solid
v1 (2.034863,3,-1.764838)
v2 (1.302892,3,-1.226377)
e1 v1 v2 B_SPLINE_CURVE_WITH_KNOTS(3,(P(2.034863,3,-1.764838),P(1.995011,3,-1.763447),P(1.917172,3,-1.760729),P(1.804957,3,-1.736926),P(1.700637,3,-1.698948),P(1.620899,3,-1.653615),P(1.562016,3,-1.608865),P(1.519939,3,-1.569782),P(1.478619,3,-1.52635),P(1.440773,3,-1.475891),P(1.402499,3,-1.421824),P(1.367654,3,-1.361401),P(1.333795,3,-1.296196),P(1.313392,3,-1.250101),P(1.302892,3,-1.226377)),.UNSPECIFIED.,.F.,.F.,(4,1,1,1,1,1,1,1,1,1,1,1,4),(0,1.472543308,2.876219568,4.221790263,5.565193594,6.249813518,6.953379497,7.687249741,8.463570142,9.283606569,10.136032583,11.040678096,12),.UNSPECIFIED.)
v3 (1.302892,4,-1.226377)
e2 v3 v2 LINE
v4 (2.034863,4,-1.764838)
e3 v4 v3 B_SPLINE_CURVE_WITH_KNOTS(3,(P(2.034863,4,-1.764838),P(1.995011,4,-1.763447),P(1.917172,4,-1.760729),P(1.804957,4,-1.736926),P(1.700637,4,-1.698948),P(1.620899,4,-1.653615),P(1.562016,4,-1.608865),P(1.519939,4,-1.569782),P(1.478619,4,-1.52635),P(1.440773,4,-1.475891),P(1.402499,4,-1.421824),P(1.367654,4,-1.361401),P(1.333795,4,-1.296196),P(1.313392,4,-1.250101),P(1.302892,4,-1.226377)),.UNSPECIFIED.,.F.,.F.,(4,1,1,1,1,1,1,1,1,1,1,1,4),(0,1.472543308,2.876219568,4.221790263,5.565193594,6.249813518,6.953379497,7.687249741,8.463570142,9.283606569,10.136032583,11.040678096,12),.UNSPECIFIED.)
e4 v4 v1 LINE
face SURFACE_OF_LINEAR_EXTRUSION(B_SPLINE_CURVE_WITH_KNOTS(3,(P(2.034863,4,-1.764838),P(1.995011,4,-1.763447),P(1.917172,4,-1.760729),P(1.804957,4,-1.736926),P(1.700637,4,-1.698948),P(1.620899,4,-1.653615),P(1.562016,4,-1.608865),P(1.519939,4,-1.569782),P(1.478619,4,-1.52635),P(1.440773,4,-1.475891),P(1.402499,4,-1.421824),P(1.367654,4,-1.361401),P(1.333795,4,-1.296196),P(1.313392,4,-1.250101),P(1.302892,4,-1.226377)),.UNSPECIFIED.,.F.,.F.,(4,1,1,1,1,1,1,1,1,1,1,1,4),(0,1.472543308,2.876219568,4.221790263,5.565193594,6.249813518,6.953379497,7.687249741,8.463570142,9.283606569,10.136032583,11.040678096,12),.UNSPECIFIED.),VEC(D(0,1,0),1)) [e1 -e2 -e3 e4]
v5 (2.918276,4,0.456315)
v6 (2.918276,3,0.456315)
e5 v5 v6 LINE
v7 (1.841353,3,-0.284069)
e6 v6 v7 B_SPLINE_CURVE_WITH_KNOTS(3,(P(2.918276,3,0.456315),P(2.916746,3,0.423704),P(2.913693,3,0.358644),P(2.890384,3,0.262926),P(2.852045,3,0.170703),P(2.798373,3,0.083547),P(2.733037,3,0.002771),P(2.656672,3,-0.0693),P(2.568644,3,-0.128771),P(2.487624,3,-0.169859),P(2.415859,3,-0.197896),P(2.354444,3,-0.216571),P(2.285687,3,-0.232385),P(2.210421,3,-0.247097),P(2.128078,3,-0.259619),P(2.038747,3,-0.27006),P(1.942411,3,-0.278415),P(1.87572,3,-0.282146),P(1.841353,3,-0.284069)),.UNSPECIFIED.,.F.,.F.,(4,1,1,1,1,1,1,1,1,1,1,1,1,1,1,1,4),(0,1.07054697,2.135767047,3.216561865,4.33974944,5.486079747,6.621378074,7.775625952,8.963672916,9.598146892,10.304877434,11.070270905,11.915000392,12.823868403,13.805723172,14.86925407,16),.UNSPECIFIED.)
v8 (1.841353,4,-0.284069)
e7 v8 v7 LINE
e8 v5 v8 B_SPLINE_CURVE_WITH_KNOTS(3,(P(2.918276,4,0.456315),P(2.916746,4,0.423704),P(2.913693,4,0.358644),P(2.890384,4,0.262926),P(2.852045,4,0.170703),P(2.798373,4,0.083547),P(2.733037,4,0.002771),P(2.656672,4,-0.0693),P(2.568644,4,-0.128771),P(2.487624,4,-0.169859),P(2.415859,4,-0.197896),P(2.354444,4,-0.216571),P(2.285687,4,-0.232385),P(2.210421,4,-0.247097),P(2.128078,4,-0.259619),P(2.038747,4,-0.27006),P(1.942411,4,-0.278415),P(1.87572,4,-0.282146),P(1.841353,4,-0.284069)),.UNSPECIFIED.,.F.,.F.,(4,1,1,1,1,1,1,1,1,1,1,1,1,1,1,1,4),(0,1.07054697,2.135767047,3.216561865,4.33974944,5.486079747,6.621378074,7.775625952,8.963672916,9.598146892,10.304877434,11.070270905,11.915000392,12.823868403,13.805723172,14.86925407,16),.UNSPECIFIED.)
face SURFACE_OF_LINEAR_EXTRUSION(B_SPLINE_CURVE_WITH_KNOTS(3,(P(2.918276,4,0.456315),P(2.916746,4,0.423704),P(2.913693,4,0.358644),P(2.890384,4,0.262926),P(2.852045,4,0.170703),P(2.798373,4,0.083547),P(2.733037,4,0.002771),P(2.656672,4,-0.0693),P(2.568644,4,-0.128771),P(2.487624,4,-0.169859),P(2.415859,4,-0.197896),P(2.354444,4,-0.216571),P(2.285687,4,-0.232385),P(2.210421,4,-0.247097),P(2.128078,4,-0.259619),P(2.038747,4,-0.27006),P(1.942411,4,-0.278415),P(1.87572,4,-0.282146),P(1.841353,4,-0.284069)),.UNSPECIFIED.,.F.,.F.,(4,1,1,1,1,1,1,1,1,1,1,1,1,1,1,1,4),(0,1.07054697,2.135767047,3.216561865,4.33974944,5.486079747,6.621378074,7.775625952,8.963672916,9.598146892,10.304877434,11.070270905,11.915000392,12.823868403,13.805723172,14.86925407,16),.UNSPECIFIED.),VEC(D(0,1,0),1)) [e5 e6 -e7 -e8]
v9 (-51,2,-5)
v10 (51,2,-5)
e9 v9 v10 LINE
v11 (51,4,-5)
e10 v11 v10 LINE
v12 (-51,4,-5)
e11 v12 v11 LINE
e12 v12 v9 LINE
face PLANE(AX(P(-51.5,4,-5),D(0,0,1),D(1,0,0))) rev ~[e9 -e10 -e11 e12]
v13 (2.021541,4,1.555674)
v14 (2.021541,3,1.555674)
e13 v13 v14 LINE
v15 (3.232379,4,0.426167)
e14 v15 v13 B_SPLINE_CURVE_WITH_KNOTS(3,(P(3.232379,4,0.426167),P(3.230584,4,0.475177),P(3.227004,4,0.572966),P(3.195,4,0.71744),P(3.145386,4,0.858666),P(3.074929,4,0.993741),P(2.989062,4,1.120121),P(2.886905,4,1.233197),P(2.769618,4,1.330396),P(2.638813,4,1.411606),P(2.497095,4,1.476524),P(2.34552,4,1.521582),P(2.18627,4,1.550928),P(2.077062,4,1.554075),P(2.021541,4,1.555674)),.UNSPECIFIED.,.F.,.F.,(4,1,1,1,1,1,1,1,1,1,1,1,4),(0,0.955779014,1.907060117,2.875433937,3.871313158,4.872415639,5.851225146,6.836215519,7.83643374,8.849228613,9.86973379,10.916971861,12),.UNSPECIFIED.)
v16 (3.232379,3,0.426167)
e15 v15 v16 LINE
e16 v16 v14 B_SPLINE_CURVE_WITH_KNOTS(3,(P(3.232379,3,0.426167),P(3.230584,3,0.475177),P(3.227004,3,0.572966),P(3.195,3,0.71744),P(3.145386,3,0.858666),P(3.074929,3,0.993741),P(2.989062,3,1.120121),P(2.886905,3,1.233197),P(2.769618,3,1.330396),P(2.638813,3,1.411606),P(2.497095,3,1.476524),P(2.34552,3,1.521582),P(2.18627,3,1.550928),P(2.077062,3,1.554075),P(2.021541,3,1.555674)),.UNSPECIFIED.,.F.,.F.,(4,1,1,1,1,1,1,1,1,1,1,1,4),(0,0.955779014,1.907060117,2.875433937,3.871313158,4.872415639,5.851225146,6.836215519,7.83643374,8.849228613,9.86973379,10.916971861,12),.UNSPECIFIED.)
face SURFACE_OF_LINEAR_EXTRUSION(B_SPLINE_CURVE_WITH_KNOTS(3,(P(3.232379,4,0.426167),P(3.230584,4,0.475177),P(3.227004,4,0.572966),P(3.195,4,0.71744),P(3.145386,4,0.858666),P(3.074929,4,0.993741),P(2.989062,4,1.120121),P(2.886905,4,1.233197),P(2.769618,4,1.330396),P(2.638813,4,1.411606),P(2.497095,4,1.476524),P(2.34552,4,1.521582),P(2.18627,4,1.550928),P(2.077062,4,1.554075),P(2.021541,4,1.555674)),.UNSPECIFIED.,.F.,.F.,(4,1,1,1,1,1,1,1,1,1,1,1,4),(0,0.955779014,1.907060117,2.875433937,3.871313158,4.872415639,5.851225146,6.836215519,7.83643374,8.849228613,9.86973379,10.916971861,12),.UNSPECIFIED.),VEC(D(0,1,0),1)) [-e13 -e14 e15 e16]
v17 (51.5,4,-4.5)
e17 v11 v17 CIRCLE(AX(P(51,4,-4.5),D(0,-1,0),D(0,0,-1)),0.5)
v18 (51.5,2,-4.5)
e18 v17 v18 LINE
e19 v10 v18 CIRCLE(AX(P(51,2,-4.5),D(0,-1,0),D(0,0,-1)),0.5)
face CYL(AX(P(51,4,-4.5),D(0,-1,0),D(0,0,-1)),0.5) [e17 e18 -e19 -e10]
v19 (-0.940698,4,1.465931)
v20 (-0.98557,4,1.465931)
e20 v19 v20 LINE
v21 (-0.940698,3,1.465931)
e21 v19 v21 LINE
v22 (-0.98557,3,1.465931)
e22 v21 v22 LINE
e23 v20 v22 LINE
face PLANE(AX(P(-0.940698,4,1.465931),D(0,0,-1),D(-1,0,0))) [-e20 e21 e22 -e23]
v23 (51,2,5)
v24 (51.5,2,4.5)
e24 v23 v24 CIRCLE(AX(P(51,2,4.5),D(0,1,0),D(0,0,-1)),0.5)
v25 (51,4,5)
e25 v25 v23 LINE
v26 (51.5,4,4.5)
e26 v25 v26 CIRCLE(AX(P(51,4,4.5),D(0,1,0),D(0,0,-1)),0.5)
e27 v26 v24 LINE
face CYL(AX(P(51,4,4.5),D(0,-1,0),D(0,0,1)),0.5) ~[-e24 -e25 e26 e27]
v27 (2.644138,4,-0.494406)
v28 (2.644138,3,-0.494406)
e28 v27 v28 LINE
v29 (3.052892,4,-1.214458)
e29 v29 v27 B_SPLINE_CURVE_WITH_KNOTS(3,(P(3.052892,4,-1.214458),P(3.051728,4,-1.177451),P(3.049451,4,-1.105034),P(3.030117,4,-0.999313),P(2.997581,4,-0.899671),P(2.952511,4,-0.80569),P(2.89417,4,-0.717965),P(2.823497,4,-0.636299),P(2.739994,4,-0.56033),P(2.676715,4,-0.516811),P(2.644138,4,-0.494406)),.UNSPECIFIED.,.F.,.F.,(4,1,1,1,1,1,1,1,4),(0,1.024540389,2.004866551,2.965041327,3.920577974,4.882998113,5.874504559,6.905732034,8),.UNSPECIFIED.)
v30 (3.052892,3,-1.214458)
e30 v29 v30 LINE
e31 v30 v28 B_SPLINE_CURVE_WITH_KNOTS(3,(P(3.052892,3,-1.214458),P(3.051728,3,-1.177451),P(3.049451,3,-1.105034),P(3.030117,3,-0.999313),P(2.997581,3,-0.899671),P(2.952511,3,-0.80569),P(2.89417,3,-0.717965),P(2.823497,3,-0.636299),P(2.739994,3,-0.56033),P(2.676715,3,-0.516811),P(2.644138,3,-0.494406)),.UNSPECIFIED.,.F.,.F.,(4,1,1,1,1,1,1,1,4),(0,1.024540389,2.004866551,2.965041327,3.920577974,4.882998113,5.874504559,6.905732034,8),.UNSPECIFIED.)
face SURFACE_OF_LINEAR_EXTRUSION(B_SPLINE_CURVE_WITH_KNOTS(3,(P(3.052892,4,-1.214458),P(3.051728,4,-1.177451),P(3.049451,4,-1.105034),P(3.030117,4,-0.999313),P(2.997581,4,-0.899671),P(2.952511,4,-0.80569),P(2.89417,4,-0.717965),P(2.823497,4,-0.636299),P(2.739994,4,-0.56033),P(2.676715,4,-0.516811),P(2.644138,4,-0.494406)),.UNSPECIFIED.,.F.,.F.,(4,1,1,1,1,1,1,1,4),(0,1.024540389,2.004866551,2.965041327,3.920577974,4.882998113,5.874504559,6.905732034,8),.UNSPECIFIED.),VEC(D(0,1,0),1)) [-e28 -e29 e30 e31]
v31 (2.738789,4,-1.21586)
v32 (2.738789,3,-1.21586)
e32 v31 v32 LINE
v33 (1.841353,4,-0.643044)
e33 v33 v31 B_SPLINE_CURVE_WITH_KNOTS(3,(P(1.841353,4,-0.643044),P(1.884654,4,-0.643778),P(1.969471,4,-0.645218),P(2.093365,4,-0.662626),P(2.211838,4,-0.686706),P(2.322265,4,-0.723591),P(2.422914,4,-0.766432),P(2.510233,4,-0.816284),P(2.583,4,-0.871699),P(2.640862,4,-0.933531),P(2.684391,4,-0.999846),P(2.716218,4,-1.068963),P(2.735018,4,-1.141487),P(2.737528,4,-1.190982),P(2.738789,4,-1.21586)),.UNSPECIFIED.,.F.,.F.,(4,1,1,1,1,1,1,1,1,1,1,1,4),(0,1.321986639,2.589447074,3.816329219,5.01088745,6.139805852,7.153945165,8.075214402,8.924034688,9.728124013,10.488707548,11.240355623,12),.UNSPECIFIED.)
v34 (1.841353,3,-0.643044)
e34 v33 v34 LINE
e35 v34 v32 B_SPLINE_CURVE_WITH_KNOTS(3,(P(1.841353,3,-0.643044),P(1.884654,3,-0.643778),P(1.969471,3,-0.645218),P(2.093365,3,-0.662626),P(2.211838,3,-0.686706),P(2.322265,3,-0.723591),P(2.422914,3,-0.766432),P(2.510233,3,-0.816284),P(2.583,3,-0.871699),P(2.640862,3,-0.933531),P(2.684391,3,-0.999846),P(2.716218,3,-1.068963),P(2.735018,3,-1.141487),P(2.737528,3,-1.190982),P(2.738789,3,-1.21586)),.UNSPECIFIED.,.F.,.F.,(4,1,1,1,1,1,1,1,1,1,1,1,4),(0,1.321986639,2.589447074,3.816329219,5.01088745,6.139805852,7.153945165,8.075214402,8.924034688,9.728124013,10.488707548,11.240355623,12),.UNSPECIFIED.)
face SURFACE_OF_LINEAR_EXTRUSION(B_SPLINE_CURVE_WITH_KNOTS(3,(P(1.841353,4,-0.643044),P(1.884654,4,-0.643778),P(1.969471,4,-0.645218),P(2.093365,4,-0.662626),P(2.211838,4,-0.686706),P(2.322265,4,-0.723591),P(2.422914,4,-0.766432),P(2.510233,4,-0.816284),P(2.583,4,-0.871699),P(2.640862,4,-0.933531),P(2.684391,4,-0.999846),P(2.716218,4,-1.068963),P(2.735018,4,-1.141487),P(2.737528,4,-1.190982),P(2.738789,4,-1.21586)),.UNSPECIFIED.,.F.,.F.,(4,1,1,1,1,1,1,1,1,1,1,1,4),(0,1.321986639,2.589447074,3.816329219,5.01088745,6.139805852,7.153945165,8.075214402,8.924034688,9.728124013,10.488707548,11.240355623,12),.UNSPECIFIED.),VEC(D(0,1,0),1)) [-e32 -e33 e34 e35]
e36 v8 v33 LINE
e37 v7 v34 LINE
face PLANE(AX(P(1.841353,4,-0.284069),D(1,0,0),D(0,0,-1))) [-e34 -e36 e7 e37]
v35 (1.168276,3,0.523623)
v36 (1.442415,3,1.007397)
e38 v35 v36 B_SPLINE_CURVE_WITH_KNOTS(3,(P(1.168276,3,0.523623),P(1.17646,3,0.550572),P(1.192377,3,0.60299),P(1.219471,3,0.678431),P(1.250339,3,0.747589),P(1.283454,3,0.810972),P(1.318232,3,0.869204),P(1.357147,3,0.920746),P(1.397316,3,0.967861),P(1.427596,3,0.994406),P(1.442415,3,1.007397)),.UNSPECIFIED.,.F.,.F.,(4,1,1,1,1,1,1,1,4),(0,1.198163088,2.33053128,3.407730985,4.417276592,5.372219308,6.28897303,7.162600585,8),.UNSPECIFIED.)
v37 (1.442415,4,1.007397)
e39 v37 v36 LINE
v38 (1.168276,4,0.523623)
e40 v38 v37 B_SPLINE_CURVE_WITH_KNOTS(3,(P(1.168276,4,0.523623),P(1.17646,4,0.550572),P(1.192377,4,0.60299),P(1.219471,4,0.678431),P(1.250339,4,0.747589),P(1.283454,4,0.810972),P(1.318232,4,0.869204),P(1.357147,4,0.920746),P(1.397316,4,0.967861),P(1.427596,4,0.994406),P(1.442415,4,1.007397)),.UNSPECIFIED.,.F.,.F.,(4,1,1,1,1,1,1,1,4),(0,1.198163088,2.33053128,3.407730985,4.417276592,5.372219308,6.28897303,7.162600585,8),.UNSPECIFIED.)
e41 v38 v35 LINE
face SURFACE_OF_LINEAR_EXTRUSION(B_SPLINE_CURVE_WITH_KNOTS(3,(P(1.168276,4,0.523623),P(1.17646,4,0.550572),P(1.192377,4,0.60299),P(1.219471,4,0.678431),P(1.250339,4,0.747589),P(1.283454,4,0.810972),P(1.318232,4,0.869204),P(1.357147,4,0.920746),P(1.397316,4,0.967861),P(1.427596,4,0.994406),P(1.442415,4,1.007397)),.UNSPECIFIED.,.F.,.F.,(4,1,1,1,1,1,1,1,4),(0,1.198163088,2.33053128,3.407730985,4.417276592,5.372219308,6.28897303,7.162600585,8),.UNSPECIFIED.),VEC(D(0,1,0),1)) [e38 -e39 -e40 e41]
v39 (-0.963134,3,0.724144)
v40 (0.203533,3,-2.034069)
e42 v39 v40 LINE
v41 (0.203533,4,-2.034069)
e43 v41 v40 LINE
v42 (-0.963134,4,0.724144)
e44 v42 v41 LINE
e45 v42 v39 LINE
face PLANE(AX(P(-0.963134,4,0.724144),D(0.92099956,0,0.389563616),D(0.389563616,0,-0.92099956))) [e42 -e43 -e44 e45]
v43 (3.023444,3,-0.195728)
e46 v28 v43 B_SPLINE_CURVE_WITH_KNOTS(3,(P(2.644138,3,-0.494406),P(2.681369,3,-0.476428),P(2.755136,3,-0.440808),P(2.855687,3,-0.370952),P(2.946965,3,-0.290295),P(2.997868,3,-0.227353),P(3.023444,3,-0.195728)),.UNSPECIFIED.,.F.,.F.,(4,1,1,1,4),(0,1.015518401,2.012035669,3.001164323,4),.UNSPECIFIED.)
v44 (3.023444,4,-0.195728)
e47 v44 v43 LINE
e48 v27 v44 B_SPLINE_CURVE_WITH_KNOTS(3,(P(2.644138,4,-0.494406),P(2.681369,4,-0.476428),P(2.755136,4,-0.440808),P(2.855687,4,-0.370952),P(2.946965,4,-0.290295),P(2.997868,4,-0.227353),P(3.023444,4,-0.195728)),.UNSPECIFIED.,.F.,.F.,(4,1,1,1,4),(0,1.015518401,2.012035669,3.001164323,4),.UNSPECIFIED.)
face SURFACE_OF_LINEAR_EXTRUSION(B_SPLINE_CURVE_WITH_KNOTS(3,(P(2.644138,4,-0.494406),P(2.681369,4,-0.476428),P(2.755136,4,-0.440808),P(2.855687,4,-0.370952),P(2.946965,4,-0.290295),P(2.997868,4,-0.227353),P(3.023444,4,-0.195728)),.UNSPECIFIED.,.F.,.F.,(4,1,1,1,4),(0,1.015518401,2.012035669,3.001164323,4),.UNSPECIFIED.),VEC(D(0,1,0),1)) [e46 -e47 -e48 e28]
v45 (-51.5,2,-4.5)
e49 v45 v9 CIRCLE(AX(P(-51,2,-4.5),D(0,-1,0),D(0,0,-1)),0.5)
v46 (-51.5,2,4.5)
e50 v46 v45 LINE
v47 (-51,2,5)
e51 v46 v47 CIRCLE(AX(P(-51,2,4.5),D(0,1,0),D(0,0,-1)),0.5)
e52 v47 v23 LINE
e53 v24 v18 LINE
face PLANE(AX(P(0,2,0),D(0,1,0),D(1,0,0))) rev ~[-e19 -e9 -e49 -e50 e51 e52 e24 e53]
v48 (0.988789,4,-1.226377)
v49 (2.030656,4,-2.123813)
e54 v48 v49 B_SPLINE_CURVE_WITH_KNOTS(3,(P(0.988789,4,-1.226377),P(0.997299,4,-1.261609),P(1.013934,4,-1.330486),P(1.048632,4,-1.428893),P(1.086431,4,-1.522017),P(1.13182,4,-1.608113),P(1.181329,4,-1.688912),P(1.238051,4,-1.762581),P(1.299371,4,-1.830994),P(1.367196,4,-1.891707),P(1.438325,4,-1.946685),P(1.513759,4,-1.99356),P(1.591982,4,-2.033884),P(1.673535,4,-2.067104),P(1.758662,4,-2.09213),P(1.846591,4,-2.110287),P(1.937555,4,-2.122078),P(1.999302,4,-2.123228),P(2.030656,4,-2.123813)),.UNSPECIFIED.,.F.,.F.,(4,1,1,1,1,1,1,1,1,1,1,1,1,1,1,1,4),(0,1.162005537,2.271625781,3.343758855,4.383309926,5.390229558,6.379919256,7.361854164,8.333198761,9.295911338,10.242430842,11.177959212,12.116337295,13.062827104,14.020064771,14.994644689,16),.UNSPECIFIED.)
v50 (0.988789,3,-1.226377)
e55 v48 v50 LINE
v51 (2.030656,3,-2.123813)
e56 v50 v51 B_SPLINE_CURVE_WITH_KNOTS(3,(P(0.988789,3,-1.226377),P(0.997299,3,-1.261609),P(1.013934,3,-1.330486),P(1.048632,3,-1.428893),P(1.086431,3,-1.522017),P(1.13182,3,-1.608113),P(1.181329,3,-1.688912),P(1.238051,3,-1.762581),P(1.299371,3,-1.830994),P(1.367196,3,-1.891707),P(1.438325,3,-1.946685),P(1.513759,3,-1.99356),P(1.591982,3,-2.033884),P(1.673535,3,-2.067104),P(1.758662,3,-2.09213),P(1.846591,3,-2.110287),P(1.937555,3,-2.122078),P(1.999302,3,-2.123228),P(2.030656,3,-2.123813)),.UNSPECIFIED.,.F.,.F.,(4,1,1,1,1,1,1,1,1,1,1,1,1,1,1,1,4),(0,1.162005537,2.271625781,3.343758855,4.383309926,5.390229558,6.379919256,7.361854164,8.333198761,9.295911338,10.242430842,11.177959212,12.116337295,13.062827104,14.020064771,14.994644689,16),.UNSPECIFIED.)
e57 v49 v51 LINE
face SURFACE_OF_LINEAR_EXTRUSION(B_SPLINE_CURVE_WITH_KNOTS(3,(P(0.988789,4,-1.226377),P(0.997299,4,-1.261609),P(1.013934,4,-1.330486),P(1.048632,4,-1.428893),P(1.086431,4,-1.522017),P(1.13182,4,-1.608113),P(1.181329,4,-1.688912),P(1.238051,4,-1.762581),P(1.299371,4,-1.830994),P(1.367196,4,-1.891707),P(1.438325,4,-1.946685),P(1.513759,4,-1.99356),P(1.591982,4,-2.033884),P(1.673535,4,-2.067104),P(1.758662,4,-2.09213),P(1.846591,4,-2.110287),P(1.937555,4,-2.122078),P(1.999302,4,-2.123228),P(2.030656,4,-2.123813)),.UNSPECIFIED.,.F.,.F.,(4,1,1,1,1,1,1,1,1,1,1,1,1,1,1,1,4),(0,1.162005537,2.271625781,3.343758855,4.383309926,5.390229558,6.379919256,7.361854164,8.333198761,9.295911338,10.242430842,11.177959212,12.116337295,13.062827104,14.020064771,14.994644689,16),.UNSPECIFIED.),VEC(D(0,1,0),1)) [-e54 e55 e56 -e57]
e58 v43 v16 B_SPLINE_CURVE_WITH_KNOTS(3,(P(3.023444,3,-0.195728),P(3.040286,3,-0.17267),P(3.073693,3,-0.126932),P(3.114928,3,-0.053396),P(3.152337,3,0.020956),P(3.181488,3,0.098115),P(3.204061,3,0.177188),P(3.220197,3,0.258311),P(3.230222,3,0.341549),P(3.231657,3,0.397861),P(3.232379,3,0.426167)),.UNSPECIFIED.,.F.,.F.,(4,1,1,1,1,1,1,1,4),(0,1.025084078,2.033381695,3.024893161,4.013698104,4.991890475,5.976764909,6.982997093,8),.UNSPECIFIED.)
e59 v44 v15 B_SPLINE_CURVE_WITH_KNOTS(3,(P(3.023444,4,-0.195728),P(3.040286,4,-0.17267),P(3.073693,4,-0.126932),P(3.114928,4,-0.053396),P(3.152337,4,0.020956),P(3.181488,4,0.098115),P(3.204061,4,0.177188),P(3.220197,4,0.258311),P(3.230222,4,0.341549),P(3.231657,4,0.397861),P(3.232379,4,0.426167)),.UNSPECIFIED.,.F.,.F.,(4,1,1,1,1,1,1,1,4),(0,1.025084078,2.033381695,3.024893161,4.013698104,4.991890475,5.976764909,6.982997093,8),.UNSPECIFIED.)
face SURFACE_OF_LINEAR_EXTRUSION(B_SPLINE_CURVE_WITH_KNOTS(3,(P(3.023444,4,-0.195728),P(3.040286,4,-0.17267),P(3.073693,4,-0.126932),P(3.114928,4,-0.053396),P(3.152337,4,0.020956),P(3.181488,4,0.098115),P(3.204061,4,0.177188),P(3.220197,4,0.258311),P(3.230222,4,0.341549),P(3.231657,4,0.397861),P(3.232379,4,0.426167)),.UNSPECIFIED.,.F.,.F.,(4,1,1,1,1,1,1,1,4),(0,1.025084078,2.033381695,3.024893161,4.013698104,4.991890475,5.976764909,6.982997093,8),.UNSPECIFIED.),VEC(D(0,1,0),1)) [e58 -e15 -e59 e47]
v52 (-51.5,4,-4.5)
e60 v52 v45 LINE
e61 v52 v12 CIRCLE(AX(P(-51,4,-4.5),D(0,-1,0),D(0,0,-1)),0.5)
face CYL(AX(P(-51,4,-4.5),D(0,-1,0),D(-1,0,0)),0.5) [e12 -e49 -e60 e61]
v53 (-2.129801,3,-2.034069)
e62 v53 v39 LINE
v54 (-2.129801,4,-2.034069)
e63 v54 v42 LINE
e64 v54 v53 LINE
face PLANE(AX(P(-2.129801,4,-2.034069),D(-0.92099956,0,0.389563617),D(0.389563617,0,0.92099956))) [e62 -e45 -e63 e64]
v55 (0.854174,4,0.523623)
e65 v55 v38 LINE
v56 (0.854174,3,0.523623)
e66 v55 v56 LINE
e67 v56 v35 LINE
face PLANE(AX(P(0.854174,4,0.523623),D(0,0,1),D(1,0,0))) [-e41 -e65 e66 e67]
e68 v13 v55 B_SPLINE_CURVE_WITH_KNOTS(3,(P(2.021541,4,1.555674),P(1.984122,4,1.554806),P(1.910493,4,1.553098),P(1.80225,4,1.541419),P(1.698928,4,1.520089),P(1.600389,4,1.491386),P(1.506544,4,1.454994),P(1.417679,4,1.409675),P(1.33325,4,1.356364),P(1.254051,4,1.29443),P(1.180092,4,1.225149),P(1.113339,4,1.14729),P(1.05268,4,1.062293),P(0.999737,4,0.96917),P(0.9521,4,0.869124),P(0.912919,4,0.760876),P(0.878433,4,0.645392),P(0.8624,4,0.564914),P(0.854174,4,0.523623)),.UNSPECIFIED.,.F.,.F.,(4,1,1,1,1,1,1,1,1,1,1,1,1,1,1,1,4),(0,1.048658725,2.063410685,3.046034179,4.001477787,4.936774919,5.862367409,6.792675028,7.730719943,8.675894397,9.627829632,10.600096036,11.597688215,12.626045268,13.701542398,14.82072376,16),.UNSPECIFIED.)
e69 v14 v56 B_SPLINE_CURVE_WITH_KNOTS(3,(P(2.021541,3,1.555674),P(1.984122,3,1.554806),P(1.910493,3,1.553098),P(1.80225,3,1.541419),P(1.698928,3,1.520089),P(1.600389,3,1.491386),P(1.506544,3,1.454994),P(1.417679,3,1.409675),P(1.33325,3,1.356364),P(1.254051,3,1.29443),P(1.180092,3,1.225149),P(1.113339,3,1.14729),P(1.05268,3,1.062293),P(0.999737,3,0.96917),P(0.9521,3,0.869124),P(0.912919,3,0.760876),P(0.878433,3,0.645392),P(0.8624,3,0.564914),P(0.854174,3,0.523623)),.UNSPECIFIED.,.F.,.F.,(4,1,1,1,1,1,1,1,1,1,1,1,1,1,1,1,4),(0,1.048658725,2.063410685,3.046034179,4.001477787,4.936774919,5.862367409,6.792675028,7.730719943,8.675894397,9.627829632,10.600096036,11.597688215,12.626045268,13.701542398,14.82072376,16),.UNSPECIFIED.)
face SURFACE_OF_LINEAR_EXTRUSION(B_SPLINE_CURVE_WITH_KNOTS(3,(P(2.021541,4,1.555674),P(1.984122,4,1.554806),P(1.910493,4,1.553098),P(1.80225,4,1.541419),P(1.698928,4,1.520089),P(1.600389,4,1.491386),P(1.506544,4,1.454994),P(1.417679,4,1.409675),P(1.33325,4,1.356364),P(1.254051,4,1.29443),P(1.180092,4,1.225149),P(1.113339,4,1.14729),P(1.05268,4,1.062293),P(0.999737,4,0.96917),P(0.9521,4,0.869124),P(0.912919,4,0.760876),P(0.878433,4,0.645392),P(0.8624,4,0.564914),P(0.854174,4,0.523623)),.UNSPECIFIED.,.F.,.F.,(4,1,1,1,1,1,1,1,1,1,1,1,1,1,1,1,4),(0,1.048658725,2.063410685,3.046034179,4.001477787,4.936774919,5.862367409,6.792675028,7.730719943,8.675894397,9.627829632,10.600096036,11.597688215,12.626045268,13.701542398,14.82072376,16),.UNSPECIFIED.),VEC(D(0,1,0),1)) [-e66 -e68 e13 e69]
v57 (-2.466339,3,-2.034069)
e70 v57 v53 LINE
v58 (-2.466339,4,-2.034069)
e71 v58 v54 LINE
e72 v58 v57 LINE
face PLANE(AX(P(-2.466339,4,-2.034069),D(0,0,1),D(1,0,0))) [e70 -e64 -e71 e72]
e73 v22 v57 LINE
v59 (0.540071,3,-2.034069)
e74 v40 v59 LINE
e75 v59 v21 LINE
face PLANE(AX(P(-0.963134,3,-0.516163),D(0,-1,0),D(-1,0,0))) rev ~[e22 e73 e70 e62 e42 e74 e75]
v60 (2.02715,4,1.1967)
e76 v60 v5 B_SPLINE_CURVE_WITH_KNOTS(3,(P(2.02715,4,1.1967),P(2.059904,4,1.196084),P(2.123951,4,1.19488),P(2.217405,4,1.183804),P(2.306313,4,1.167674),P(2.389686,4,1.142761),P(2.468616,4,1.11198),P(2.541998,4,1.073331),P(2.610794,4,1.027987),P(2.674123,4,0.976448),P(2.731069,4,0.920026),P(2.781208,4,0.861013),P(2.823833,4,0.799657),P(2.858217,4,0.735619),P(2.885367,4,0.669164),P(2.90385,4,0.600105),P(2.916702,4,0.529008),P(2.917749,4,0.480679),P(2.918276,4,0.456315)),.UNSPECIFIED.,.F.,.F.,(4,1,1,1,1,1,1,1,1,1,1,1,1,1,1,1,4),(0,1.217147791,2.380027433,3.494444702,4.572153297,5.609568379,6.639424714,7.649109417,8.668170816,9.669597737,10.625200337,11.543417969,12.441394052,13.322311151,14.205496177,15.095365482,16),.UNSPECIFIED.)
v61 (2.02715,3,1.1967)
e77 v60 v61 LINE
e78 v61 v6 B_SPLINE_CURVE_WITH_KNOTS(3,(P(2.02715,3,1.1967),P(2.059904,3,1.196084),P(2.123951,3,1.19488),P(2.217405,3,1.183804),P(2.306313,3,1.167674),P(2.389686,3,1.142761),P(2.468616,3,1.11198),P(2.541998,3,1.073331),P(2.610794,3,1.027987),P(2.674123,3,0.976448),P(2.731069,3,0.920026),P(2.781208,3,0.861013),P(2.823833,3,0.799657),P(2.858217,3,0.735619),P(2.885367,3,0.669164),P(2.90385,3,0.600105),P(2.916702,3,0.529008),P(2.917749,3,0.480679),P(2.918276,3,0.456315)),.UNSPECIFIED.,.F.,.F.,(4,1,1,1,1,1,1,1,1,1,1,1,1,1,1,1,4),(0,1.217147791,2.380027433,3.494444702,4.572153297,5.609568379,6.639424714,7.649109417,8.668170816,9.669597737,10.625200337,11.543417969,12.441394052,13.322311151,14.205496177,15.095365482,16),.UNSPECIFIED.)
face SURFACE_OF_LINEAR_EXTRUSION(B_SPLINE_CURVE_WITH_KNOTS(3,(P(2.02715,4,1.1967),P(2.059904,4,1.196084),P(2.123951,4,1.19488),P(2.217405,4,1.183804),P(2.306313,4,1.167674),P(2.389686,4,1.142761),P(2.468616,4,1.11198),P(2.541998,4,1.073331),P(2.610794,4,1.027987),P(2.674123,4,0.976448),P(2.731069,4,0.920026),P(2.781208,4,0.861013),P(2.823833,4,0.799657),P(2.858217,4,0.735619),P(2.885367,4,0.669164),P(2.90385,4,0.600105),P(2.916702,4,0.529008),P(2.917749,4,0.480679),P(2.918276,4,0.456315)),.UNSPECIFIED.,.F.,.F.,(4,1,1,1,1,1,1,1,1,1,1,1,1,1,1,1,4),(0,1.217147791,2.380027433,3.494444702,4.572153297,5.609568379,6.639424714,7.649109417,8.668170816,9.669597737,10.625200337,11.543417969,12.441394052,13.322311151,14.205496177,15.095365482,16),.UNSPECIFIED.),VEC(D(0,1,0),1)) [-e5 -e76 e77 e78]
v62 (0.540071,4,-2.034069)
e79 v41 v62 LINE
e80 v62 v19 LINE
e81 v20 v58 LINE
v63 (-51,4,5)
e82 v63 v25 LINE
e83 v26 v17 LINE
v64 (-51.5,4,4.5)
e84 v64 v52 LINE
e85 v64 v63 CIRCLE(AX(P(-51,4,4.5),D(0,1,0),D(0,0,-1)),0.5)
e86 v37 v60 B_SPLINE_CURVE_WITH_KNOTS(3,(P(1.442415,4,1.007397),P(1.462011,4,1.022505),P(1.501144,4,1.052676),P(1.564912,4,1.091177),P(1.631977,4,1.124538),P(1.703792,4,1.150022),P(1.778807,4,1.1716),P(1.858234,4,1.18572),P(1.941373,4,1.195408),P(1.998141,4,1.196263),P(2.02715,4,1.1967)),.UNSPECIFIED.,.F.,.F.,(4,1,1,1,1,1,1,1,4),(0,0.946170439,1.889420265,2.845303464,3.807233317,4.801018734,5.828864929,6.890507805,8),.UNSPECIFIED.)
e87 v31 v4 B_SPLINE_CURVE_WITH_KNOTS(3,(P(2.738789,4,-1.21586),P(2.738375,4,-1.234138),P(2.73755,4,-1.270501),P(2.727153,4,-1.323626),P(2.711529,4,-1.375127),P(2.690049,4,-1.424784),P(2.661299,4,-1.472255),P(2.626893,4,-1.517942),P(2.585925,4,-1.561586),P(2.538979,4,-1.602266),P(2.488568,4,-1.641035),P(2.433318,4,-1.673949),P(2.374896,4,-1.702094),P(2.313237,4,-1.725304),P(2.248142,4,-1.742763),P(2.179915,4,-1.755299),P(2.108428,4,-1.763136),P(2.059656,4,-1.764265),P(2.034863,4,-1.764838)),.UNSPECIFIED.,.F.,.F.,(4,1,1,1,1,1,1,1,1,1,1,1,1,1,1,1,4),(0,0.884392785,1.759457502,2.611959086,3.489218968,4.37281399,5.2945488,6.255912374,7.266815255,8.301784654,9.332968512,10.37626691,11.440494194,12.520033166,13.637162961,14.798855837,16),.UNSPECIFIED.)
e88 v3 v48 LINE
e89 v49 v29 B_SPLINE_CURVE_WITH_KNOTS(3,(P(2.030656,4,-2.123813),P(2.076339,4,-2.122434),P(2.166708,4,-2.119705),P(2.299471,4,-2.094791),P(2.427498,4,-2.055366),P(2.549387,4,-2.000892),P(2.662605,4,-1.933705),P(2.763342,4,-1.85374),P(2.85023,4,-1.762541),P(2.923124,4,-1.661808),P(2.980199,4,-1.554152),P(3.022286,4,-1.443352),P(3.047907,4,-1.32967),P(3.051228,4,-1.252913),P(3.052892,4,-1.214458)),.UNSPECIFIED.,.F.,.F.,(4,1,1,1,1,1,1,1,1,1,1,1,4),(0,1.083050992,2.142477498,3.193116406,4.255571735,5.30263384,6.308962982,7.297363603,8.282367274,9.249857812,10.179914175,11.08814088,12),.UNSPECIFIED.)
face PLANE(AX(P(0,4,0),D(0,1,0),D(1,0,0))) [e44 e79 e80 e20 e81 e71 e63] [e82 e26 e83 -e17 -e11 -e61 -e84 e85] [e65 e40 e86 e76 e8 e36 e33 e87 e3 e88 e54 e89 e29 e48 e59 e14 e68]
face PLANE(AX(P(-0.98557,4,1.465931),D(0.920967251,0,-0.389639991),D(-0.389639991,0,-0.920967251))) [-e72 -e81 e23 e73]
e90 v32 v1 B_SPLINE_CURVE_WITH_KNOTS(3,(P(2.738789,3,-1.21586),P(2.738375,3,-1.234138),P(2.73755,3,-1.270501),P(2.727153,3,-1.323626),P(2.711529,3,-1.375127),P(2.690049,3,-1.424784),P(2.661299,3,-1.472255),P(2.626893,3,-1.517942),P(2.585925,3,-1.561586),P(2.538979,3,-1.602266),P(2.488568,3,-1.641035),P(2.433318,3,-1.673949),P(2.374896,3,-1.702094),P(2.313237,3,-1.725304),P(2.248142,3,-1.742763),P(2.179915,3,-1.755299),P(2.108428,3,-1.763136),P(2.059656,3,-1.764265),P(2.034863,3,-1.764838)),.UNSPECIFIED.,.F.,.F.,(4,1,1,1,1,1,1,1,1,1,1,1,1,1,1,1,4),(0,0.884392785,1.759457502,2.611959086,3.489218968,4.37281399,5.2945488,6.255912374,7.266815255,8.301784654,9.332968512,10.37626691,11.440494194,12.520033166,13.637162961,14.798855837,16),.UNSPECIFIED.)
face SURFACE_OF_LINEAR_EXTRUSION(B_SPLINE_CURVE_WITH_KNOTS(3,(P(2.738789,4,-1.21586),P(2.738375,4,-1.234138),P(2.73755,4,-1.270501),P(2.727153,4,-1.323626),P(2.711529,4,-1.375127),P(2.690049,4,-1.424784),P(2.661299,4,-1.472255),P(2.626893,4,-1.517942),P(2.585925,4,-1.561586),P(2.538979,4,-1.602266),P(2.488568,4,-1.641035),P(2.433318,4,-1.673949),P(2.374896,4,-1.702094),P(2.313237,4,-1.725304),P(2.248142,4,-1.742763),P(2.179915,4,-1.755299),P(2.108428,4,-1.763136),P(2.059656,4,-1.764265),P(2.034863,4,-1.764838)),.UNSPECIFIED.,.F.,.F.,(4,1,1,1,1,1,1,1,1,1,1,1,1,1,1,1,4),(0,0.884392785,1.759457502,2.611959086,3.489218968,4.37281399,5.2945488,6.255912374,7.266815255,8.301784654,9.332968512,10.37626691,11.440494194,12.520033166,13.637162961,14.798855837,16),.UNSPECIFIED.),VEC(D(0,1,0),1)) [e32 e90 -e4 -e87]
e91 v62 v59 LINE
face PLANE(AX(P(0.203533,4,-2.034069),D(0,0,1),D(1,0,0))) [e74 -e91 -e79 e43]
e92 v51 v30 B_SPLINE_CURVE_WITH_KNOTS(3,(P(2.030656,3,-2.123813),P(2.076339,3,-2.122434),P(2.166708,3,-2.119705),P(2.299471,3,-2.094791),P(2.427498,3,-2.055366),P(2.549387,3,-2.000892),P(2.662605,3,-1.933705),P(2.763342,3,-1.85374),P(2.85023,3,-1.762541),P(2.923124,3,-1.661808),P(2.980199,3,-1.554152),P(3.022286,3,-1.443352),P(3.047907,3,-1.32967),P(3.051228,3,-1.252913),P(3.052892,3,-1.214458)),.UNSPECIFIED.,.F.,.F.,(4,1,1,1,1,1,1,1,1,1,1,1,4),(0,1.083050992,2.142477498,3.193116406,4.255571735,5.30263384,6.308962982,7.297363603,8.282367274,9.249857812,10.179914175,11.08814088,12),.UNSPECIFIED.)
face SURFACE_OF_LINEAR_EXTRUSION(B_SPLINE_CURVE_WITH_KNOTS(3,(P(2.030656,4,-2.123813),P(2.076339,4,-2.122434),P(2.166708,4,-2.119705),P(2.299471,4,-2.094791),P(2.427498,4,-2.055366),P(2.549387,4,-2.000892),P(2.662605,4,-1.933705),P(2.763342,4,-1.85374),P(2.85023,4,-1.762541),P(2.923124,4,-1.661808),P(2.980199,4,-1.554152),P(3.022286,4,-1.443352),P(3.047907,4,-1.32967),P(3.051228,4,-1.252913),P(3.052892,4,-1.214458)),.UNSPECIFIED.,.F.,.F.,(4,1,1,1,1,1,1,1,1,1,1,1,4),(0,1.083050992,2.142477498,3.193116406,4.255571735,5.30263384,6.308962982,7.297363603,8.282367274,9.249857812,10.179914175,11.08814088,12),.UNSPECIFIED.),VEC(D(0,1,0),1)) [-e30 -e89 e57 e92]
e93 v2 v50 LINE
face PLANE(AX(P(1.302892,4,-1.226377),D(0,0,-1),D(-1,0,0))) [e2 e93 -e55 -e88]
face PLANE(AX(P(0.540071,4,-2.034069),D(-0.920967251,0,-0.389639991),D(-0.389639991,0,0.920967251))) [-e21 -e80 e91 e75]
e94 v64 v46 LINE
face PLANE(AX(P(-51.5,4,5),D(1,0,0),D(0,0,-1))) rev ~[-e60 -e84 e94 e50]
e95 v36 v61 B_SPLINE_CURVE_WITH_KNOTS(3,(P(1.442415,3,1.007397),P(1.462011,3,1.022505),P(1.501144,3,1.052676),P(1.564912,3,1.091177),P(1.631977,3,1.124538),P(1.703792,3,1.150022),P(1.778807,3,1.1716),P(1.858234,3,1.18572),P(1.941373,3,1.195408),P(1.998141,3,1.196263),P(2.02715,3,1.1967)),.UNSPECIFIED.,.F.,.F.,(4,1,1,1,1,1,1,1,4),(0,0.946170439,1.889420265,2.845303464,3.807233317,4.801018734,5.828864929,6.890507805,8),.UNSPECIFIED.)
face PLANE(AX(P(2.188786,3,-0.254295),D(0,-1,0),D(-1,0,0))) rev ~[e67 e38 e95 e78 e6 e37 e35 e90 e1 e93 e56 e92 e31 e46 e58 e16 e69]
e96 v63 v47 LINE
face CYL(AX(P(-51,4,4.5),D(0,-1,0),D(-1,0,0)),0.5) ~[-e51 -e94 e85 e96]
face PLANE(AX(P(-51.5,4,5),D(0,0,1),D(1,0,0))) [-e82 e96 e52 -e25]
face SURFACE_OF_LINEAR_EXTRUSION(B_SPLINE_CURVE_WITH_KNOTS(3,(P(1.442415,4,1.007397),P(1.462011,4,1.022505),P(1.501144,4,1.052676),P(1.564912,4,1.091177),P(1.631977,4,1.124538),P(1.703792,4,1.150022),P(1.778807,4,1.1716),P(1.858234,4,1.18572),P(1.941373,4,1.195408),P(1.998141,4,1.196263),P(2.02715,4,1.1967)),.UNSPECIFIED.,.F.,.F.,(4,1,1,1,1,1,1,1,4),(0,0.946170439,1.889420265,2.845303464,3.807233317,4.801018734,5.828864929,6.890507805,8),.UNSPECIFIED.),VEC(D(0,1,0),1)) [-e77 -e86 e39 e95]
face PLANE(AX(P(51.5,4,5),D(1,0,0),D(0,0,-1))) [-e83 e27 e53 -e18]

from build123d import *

# Parameters (mm, degrees)
SKETCH1_W           = 99
SKETCH1_H           = 6
BOSS_EXTRUDE1_DEPTH = 2
SKETCH2_W           = 101
SKETCH2_H           = 8
BOSS_EXTRUDE3_DEPTH = 2
DRAFT1_ANGLE        = 10
SKETCH3_W           = 103
SKETCH3_H           = 10
BOSS_EXTRUDE4_DEPTH = 2
FILLET1_R           = 0.5
CUT_EXTRUDE1_DEPTH  = 1
CUT_EXTRUDE2_START  = 10
CUT_EXTRUDE2_DEPTH  = 10


with BuildPart() as part:
    # Sketch1 → Boss-Extrude1 (new body)
    with BuildSketch(Plane(origin=(0, 0, 0), x_dir=(1, 0, 0), z_dir=(0, 1, 0))):
        Rectangle(SKETCH1_W, SKETCH1_H)
    extrude(amount=BOSS_EXTRUDE1_DEPTH)

    # Draft1
    draft1_faces = [part.faces().sort_by_distance(p)[0] for p in [
        (49.5, 1, 0),
        (0, 1, 3),
        (-49.5, 1, 0),
        (0, 1, -3),
    ]]
    draft(draft1_faces, Plane(origin=(0, 0, 0), x_dir=(0, 0, -1), z_dir=(0, -1, 0)), DRAFT1_ANGLE)



with BuildPart() as body_2:
    # Sketch2 → Boss-Extrude3 (new body)
    with BuildSketch(Plane(origin=(0, 2, 0), x_dir=(1, 0, 0), z_dir=(0, 1, 0))):
        Rectangle(SKETCH2_W, SKETCH2_H)
    extrude(amount=BOSS_EXTRUDE3_DEPTH)


with BuildPart() as part_1:
    add(part.part)

    add(body_2.part)  # Boss-Extrude4 merges body 2
    # Sketch3 → Boss-Extrude4 (add)
    with BuildSketch(Plane(origin=(0, 4, 0), x_dir=(1, 0, 0), z_dir=(0, 1, 0))):
        Rectangle(SKETCH3_W, SKETCH3_H)
    extrude(amount=-BOSS_EXTRUDE4_DEPTH)

    # Fillet1
    fillet1_edges = [part_1.edges().sort_by_distance(p)[0] for p in [
        (-51.5, 3, 5),
        (-51.5, 3, -5),
        (51.5, 3, -5),
        (51.5, 3, 5),
    ]]
    fillet(fillet1_edges, radius=FILLET1_R)

    # Sketch4 → Cut-Extrude1 (cut)
    with BuildSketch(Plane(origin=(0, 4, 0), x_dir=(1, 0, 0), z_dir=(0, 1, 0))):
        Polygon((-2.466339169, 2.034069186), (-2.129800707, 2.034069186), (-0.96313404, -0.724143955), (0.203532626, 2.034069186), (0.540071088, 2.034069186), (-0.940698143, -1.465930814), (-0.985569938, -1.465930814), align=None)
        with BuildLine():
            Line((1.302891601, 1.226376878), (0.988789037, 1.226376878))
            add(Edge.make_bspline(
                [(0.988789037, 1.226376878), (0.997298587, 1.261609362), (1.013934063, 1.330485986), (1.048631636, 1.428893247), (1.086430891, 1.522016768), (1.131819996, 1.608112842), (1.18132875, 1.688911745), (1.238051472, 1.762580869), (1.299371194, 1.830993835), (1.367196144, 1.891707072), (1.438324805, 1.946684802), (1.513759425, 1.993559859), (1.591982319, 2.033884012), (1.673535452, 2.067104244), (1.758661623, 2.092129767), (1.846591247, 2.110286573), (1.937554747, 2.122077687), (1.999302337, 2.12322845), (2.030656024, 2.123812775)],
                knots=[0, 0, 0, 0, 1.162005537, 2.271625781, 3.343758855, 4.383309926, 5.390229558, 6.379919256, 7.361854164, 8.333198761, 9.295911338, 10.242430842, 11.177959212, 12.116337295, 13.062827104, 14.020064771, 14.994644689, 16, 16, 16, 16], degree=3))
            add(Edge.make_bspline(
                [(2.030656024, 2.123812775), (2.076338766, 2.122433545), (2.166707777, 2.11970517), (2.299470824, 2.094790733), (2.427497643, 2.055365601), (2.549386891, 2.000891874), (2.662605323, 1.93370456), (2.76334151, 1.853739824), (2.850230021, 1.762540522), (2.923124398, 1.661807958), (2.980199397, 1.554152448), (3.022285771, 1.443352291), (3.047907452, 1.32967032), (3.051228009, 1.252913041), (3.052891601, 1.214457807)],
                knots=[0, 0, 0, 0, 1.083050992, 2.142477498, 3.193116406, 4.255571735, 5.30263384, 6.308962982, 7.297363603, 8.282367274, 9.249857812, 10.179914175, 11.08814088, 12, 12, 12, 12], degree=3))
            add(Edge.make_bspline(
                [(3.052891601, 1.214457807), (3.05172801, 1.177451013), (3.049451043, 1.105034458), (3.030117337, 0.999312961), (2.997581074, 0.899671361), (2.952511311, 0.805690199), (2.894169761, 0.717965359), (2.823497064, 0.636299468), (2.739994403, 0.56033031), (2.676715465, 0.516810837), (2.644137594, 0.494405724)],
                knots=[0, 0, 0, 0, 1.024540389, 2.004866551, 2.965041327, 3.920577974, 4.882998113, 5.874504559, 6.905732034, 8, 8, 8, 8], degree=3))
            add(Edge.make_bspline(
                [(2.644137594, 0.494405724), (2.681369349, 0.476427552), (2.755136223, 0.440807595), (2.855686753, 0.370951837), (2.946964628, 0.29029549), (2.997868347, 0.227352837), (3.023444485, 0.195727839)],
                knots=[0, 0, 0, 0, 1.015518401, 2.012035669, 3.001164323, 4, 4, 4, 4], degree=3))
            add(Edge.make_bspline(
                [(3.023444485, 0.195727839), (3.040285828, 0.172670088), (3.073692724, 0.126932171), (3.114928257, 0.053395745), (3.152337372, -0.020955744), (3.181487591, -0.09811515), (3.204061458, -0.177188164), (3.22019749, -0.25831056), (3.230221631, -0.341548582), (3.231657183, -0.397861062), (3.23237878, -0.426167193)],
                knots=[0, 0, 0, 0, 1.025084078, 2.033381695, 3.024893161, 4.013698104, 4.991890475, 5.976764909, 6.982997093, 8, 8, 8, 8], degree=3))
            add(Edge.make_bspline(
                [(3.23237878, -0.426167193), (3.230584267, -0.475176914), (3.227003685, -0.572965716), (3.19499961, -0.717440437), (3.14538637, -0.85866594), (3.074929434, -0.993740779), (2.989061925, -1.12012116), (2.886904601, -1.233197469), (2.769618192, -1.330396073), (2.638812543, -1.411606301), (2.497095415, -1.476524223), (2.345519823, -1.521581666), (2.186269769, -1.550927666), (2.077062471, -1.554074535), (2.02154144, -1.555674404)],
                knots=[0, 0, 0, 0, 0.955779014, 1.907060117, 2.875433937, 3.871313158, 4.872415639, 5.851225146, 6.836215519, 7.83643374, 8.849228613, 9.86973379, 10.916971861, 12, 12, 12, 12], degree=3))
            add(Edge.make_bspline(
                [(2.02154144, -1.555674404), (1.98412214, -1.554806191), (1.910493435, -1.553097837), (1.802249937, -1.541419236), (1.698928237, -1.52008923), (1.600388639, -1.491385925), (1.506543603, -1.454994183), (1.417679498, -1.409675485), (1.333249604, -1.356363983), (1.254050653, -1.294430395), (1.180092086, -1.225149055), (1.113339361, -1.147290045), (1.052679568, -1.062292641), (0.99973693, -0.969169585), (0.952099977, -0.869124328), (0.91291902, -0.76087583), (0.878433452, -0.645391808), (0.862399987, -0.564914067), (0.854173652, -0.523623122)],
                knots=[0, 0, 0, 0, 1.048658725, 2.063410685, 3.046034179, 4.001477787, 4.936774919, 5.862367409, 6.792675028, 7.730719943, 8.675894397, 9.627829632, 10.600096036, 11.597688215, 12.626045268, 13.701542398, 14.82072376, 16, 16, 16, 16], degree=3))
            Line((0.854173652, -0.523623122), (1.168276216, -0.523623122))
            add(Edge.make_bspline(
                [(1.168276216, -0.523623122), (1.176459507, -0.550572135), (1.19237672, -0.602990307), (1.219471018, -0.678430613), (1.25033929, -0.747588666), (1.283453849, -0.810971788), (1.318232295, -0.86920419), (1.35714722, -0.920746059), (1.397316365, -0.967861262), (1.427595719, -0.994405874), (1.442414838, -1.007397161)],
                knots=[0, 0, 0, 0, 1.198163088, 2.33053128, 3.407730985, 4.417276592, 5.372219308, 6.28897303, 7.162600585, 8, 8, 8, 8], degree=3))
            add(Edge.make_bspline(
                [(1.442414838, -1.007397161), (1.462011414, -1.022505495), (1.501144077, -1.052675526), (1.564912308, -1.091177155), (1.631977194, -1.12453818), (1.703791869, -1.150021876), (1.778806639, -1.171599537), (1.858234004, -1.185720056), (1.941373221, -1.195408227), (1.998140985, -1.196263159), (2.027150415, -1.196700045)],
                knots=[0, 0, 0, 0, 0.946170439, 1.889420265, 2.845303464, 3.807233317, 4.801018734, 5.828864929, 6.890507805, 8, 8, 8, 8], degree=3))
            add(Edge.make_bspline(
                [(2.027150415, -1.196700045), (2.059903917, -1.19608414), (2.123950564, -1.19487979), (2.217405424, -1.183804084), (2.306312871, -1.16767367), (2.389685797, -1.142760687), (2.468616304, -1.111979836), (2.541997954, -1.07333143), (2.61079406, -1.027986709), (2.674123466, -0.97644755), (2.731068973, -0.920026055), (2.781208486, -0.861012984), (2.823833148, -0.799657154), (2.858216726, -0.735619034), (2.885367276, -0.669163805), (2.903850477, -0.600104975), (2.916701992, -0.529007709), (2.917748604, -0.48067874), (2.918276216, -0.45631543)],
                knots=[0, 0, 0, 0, 1.217147791, 2.380027433, 3.494444702, 4.572153297, 5.609568379, 6.639424714, 7.649109417, 8.668170816, 9.669597737, 10.625200337, 11.543417969, 12.441394052, 13.322311151, 14.205496177, 15.095365482, 16, 16, 16, 16], degree=3))
            add(Edge.make_bspline(
                [(2.918276216, -0.45631543), (2.916745915, -0.423704091), (2.913692926, -0.358643683), (2.890384347, -0.262926108), (2.852045482, -0.170702696), (2.798372971, -0.083546906), (2.733037242, -0.002771004), (2.656672336, 0.069300478), (2.568644107, 0.128770569), (2.487624238, 0.169859226), (2.415859082, 0.197896301), (2.354443697, 0.216571265), (2.285687094, 0.232384921), (2.210420745, 0.247097192), (2.128077529, 0.259618541), (2.038747091, 0.270060356), (1.942411329, 0.278415397), (1.875720163, 0.282146492), (1.841353139, 0.284069186)],
                knots=[0, 0, 0, 0, 1.07054697, 2.135767047, 3.216561865, 4.33974944, 5.486079747, 6.621378074, 7.775625952, 8.963672916, 9.598146892, 10.304877434, 11.070270905, 11.915000392, 12.823868403, 13.805723172, 14.86925407, 16, 16, 16, 16], degree=3))
            Line((1.841353139, 0.284069186), (1.841353139, 0.643043545))
            add(Edge.make_bspline(
                [(1.841353139, 0.643043545), (1.884654305, 0.643778348), (1.969470651, 0.645217648), (2.093364956, 0.662625659), (2.211838268, 0.686706287), (2.32226501, 0.723591479), (2.422913724, 0.766431776), (2.510233326, 0.816283985), (2.583000473, 0.871698735), (2.640861544, 0.933531344), (2.684390773, 0.999846391), (2.716217571, 1.068963049), (2.735017897, 1.14148711), (2.737527564, 1.190981778), (2.738789037, 1.215860051)],
                knots=[0, 0, 0, 0, 1.321986639, 2.589447074, 3.816329219, 5.01088745, 6.139805852, 7.153945165, 8.075214402, 8.924034688, 9.728124013, 10.488707548, 11.240355623, 12, 12, 12, 12], degree=3))
            add(Edge.make_bspline(
                [(2.738789037, 1.215860051), (2.738374626, 1.234137796), (2.737550175, 1.270500503), (2.727152897, 1.323625572), (2.711528856, 1.375126518), (2.690049127, 1.424784328), (2.661298928, 1.472254602), (2.626892941, 1.517942051), (2.585924841, 1.56158583), (2.538979394, 1.602266149), (2.488567589, 1.641035387), (2.433317814, 1.673949024), (2.374895939, 1.702094086), (2.313237284, 1.725303588), (2.248141754, 1.742762876), (2.179915196, 1.755298717), (2.108427513, 1.763136372), (2.059655781, 1.764264788), (2.034862755, 1.764838416)],
                knots=[0, 0, 0, 0, 0.884392785, 1.759457502, 2.611959086, 3.489218968, 4.37281399, 5.2945488, 6.255912374, 7.266815255, 8.301784654, 9.332968512, 10.37626691, 11.440494194, 12.520033166, 13.637162961, 14.798855837, 16, 16, 16, 16], degree=3))
            add(Edge.make_bspline(
                [(2.034862755, 1.764838416), (1.995011087, 1.763447054), (1.91717151, 1.760729401), (1.804956593, 1.736926387), (1.700637259, 1.698948304), (1.620898593, 1.653615284), (1.562016018, 1.60886485), (1.51993908, 1.569782464), (1.47861857, 1.52634964), (1.440772893, 1.475891265), (1.402498916, 1.421824475), (1.367654355, 1.361400793), (1.333794663, 1.296196399), (1.313392113, 1.250100765), (1.302891601, 1.226376878)],
                knots=[0, 0, 0, 0, 1.472543308, 2.876219568, 4.221790263, 5.565193594, 6.249813518, 6.953379497, 7.687249741, 8.463570142, 9.283606569, 10.136032583, 11.040678096, 12, 12, 12, 12], degree=3))
        make_face()
    extrude(amount=-CUT_EXTRUDE1_DEPTH, mode=Mode.SUBTRACT)

    # Sketch5 → Cut-Extrude2 (cut)
    with BuildSketch(Plane.XZ.offset(-2).offset(CUT_EXTRUDE2_START)):
        with BuildLine():
            Line((-51.5, 4.5), (-51.5, -4.5))
            ThreePointArc((-51.5, -4.5), (-51.353553391, -4.853553391), (-51, -5))
            Line((-51, -5), (51, -5))
            ThreePointArc((51, -5), (51.353553391, -4.853553391), (51.5, -4.5))
            Line((51.5, -4.5), (51.5, 4.5))
            ThreePointArc((51.5, 4.5), (51.353553391, 4.853553391), (51, 5))
            Line((51, 5), (-51, 5))
            ThreePointArc((-51, 5), (-51.353553391, 4.853553391), (-51.5, 4.5))
        make_face()
    extrude(amount=-CUT_EXTRUDE2_DEPTH, mode=Mode.SUBTRACT)


solid = part_1.part
